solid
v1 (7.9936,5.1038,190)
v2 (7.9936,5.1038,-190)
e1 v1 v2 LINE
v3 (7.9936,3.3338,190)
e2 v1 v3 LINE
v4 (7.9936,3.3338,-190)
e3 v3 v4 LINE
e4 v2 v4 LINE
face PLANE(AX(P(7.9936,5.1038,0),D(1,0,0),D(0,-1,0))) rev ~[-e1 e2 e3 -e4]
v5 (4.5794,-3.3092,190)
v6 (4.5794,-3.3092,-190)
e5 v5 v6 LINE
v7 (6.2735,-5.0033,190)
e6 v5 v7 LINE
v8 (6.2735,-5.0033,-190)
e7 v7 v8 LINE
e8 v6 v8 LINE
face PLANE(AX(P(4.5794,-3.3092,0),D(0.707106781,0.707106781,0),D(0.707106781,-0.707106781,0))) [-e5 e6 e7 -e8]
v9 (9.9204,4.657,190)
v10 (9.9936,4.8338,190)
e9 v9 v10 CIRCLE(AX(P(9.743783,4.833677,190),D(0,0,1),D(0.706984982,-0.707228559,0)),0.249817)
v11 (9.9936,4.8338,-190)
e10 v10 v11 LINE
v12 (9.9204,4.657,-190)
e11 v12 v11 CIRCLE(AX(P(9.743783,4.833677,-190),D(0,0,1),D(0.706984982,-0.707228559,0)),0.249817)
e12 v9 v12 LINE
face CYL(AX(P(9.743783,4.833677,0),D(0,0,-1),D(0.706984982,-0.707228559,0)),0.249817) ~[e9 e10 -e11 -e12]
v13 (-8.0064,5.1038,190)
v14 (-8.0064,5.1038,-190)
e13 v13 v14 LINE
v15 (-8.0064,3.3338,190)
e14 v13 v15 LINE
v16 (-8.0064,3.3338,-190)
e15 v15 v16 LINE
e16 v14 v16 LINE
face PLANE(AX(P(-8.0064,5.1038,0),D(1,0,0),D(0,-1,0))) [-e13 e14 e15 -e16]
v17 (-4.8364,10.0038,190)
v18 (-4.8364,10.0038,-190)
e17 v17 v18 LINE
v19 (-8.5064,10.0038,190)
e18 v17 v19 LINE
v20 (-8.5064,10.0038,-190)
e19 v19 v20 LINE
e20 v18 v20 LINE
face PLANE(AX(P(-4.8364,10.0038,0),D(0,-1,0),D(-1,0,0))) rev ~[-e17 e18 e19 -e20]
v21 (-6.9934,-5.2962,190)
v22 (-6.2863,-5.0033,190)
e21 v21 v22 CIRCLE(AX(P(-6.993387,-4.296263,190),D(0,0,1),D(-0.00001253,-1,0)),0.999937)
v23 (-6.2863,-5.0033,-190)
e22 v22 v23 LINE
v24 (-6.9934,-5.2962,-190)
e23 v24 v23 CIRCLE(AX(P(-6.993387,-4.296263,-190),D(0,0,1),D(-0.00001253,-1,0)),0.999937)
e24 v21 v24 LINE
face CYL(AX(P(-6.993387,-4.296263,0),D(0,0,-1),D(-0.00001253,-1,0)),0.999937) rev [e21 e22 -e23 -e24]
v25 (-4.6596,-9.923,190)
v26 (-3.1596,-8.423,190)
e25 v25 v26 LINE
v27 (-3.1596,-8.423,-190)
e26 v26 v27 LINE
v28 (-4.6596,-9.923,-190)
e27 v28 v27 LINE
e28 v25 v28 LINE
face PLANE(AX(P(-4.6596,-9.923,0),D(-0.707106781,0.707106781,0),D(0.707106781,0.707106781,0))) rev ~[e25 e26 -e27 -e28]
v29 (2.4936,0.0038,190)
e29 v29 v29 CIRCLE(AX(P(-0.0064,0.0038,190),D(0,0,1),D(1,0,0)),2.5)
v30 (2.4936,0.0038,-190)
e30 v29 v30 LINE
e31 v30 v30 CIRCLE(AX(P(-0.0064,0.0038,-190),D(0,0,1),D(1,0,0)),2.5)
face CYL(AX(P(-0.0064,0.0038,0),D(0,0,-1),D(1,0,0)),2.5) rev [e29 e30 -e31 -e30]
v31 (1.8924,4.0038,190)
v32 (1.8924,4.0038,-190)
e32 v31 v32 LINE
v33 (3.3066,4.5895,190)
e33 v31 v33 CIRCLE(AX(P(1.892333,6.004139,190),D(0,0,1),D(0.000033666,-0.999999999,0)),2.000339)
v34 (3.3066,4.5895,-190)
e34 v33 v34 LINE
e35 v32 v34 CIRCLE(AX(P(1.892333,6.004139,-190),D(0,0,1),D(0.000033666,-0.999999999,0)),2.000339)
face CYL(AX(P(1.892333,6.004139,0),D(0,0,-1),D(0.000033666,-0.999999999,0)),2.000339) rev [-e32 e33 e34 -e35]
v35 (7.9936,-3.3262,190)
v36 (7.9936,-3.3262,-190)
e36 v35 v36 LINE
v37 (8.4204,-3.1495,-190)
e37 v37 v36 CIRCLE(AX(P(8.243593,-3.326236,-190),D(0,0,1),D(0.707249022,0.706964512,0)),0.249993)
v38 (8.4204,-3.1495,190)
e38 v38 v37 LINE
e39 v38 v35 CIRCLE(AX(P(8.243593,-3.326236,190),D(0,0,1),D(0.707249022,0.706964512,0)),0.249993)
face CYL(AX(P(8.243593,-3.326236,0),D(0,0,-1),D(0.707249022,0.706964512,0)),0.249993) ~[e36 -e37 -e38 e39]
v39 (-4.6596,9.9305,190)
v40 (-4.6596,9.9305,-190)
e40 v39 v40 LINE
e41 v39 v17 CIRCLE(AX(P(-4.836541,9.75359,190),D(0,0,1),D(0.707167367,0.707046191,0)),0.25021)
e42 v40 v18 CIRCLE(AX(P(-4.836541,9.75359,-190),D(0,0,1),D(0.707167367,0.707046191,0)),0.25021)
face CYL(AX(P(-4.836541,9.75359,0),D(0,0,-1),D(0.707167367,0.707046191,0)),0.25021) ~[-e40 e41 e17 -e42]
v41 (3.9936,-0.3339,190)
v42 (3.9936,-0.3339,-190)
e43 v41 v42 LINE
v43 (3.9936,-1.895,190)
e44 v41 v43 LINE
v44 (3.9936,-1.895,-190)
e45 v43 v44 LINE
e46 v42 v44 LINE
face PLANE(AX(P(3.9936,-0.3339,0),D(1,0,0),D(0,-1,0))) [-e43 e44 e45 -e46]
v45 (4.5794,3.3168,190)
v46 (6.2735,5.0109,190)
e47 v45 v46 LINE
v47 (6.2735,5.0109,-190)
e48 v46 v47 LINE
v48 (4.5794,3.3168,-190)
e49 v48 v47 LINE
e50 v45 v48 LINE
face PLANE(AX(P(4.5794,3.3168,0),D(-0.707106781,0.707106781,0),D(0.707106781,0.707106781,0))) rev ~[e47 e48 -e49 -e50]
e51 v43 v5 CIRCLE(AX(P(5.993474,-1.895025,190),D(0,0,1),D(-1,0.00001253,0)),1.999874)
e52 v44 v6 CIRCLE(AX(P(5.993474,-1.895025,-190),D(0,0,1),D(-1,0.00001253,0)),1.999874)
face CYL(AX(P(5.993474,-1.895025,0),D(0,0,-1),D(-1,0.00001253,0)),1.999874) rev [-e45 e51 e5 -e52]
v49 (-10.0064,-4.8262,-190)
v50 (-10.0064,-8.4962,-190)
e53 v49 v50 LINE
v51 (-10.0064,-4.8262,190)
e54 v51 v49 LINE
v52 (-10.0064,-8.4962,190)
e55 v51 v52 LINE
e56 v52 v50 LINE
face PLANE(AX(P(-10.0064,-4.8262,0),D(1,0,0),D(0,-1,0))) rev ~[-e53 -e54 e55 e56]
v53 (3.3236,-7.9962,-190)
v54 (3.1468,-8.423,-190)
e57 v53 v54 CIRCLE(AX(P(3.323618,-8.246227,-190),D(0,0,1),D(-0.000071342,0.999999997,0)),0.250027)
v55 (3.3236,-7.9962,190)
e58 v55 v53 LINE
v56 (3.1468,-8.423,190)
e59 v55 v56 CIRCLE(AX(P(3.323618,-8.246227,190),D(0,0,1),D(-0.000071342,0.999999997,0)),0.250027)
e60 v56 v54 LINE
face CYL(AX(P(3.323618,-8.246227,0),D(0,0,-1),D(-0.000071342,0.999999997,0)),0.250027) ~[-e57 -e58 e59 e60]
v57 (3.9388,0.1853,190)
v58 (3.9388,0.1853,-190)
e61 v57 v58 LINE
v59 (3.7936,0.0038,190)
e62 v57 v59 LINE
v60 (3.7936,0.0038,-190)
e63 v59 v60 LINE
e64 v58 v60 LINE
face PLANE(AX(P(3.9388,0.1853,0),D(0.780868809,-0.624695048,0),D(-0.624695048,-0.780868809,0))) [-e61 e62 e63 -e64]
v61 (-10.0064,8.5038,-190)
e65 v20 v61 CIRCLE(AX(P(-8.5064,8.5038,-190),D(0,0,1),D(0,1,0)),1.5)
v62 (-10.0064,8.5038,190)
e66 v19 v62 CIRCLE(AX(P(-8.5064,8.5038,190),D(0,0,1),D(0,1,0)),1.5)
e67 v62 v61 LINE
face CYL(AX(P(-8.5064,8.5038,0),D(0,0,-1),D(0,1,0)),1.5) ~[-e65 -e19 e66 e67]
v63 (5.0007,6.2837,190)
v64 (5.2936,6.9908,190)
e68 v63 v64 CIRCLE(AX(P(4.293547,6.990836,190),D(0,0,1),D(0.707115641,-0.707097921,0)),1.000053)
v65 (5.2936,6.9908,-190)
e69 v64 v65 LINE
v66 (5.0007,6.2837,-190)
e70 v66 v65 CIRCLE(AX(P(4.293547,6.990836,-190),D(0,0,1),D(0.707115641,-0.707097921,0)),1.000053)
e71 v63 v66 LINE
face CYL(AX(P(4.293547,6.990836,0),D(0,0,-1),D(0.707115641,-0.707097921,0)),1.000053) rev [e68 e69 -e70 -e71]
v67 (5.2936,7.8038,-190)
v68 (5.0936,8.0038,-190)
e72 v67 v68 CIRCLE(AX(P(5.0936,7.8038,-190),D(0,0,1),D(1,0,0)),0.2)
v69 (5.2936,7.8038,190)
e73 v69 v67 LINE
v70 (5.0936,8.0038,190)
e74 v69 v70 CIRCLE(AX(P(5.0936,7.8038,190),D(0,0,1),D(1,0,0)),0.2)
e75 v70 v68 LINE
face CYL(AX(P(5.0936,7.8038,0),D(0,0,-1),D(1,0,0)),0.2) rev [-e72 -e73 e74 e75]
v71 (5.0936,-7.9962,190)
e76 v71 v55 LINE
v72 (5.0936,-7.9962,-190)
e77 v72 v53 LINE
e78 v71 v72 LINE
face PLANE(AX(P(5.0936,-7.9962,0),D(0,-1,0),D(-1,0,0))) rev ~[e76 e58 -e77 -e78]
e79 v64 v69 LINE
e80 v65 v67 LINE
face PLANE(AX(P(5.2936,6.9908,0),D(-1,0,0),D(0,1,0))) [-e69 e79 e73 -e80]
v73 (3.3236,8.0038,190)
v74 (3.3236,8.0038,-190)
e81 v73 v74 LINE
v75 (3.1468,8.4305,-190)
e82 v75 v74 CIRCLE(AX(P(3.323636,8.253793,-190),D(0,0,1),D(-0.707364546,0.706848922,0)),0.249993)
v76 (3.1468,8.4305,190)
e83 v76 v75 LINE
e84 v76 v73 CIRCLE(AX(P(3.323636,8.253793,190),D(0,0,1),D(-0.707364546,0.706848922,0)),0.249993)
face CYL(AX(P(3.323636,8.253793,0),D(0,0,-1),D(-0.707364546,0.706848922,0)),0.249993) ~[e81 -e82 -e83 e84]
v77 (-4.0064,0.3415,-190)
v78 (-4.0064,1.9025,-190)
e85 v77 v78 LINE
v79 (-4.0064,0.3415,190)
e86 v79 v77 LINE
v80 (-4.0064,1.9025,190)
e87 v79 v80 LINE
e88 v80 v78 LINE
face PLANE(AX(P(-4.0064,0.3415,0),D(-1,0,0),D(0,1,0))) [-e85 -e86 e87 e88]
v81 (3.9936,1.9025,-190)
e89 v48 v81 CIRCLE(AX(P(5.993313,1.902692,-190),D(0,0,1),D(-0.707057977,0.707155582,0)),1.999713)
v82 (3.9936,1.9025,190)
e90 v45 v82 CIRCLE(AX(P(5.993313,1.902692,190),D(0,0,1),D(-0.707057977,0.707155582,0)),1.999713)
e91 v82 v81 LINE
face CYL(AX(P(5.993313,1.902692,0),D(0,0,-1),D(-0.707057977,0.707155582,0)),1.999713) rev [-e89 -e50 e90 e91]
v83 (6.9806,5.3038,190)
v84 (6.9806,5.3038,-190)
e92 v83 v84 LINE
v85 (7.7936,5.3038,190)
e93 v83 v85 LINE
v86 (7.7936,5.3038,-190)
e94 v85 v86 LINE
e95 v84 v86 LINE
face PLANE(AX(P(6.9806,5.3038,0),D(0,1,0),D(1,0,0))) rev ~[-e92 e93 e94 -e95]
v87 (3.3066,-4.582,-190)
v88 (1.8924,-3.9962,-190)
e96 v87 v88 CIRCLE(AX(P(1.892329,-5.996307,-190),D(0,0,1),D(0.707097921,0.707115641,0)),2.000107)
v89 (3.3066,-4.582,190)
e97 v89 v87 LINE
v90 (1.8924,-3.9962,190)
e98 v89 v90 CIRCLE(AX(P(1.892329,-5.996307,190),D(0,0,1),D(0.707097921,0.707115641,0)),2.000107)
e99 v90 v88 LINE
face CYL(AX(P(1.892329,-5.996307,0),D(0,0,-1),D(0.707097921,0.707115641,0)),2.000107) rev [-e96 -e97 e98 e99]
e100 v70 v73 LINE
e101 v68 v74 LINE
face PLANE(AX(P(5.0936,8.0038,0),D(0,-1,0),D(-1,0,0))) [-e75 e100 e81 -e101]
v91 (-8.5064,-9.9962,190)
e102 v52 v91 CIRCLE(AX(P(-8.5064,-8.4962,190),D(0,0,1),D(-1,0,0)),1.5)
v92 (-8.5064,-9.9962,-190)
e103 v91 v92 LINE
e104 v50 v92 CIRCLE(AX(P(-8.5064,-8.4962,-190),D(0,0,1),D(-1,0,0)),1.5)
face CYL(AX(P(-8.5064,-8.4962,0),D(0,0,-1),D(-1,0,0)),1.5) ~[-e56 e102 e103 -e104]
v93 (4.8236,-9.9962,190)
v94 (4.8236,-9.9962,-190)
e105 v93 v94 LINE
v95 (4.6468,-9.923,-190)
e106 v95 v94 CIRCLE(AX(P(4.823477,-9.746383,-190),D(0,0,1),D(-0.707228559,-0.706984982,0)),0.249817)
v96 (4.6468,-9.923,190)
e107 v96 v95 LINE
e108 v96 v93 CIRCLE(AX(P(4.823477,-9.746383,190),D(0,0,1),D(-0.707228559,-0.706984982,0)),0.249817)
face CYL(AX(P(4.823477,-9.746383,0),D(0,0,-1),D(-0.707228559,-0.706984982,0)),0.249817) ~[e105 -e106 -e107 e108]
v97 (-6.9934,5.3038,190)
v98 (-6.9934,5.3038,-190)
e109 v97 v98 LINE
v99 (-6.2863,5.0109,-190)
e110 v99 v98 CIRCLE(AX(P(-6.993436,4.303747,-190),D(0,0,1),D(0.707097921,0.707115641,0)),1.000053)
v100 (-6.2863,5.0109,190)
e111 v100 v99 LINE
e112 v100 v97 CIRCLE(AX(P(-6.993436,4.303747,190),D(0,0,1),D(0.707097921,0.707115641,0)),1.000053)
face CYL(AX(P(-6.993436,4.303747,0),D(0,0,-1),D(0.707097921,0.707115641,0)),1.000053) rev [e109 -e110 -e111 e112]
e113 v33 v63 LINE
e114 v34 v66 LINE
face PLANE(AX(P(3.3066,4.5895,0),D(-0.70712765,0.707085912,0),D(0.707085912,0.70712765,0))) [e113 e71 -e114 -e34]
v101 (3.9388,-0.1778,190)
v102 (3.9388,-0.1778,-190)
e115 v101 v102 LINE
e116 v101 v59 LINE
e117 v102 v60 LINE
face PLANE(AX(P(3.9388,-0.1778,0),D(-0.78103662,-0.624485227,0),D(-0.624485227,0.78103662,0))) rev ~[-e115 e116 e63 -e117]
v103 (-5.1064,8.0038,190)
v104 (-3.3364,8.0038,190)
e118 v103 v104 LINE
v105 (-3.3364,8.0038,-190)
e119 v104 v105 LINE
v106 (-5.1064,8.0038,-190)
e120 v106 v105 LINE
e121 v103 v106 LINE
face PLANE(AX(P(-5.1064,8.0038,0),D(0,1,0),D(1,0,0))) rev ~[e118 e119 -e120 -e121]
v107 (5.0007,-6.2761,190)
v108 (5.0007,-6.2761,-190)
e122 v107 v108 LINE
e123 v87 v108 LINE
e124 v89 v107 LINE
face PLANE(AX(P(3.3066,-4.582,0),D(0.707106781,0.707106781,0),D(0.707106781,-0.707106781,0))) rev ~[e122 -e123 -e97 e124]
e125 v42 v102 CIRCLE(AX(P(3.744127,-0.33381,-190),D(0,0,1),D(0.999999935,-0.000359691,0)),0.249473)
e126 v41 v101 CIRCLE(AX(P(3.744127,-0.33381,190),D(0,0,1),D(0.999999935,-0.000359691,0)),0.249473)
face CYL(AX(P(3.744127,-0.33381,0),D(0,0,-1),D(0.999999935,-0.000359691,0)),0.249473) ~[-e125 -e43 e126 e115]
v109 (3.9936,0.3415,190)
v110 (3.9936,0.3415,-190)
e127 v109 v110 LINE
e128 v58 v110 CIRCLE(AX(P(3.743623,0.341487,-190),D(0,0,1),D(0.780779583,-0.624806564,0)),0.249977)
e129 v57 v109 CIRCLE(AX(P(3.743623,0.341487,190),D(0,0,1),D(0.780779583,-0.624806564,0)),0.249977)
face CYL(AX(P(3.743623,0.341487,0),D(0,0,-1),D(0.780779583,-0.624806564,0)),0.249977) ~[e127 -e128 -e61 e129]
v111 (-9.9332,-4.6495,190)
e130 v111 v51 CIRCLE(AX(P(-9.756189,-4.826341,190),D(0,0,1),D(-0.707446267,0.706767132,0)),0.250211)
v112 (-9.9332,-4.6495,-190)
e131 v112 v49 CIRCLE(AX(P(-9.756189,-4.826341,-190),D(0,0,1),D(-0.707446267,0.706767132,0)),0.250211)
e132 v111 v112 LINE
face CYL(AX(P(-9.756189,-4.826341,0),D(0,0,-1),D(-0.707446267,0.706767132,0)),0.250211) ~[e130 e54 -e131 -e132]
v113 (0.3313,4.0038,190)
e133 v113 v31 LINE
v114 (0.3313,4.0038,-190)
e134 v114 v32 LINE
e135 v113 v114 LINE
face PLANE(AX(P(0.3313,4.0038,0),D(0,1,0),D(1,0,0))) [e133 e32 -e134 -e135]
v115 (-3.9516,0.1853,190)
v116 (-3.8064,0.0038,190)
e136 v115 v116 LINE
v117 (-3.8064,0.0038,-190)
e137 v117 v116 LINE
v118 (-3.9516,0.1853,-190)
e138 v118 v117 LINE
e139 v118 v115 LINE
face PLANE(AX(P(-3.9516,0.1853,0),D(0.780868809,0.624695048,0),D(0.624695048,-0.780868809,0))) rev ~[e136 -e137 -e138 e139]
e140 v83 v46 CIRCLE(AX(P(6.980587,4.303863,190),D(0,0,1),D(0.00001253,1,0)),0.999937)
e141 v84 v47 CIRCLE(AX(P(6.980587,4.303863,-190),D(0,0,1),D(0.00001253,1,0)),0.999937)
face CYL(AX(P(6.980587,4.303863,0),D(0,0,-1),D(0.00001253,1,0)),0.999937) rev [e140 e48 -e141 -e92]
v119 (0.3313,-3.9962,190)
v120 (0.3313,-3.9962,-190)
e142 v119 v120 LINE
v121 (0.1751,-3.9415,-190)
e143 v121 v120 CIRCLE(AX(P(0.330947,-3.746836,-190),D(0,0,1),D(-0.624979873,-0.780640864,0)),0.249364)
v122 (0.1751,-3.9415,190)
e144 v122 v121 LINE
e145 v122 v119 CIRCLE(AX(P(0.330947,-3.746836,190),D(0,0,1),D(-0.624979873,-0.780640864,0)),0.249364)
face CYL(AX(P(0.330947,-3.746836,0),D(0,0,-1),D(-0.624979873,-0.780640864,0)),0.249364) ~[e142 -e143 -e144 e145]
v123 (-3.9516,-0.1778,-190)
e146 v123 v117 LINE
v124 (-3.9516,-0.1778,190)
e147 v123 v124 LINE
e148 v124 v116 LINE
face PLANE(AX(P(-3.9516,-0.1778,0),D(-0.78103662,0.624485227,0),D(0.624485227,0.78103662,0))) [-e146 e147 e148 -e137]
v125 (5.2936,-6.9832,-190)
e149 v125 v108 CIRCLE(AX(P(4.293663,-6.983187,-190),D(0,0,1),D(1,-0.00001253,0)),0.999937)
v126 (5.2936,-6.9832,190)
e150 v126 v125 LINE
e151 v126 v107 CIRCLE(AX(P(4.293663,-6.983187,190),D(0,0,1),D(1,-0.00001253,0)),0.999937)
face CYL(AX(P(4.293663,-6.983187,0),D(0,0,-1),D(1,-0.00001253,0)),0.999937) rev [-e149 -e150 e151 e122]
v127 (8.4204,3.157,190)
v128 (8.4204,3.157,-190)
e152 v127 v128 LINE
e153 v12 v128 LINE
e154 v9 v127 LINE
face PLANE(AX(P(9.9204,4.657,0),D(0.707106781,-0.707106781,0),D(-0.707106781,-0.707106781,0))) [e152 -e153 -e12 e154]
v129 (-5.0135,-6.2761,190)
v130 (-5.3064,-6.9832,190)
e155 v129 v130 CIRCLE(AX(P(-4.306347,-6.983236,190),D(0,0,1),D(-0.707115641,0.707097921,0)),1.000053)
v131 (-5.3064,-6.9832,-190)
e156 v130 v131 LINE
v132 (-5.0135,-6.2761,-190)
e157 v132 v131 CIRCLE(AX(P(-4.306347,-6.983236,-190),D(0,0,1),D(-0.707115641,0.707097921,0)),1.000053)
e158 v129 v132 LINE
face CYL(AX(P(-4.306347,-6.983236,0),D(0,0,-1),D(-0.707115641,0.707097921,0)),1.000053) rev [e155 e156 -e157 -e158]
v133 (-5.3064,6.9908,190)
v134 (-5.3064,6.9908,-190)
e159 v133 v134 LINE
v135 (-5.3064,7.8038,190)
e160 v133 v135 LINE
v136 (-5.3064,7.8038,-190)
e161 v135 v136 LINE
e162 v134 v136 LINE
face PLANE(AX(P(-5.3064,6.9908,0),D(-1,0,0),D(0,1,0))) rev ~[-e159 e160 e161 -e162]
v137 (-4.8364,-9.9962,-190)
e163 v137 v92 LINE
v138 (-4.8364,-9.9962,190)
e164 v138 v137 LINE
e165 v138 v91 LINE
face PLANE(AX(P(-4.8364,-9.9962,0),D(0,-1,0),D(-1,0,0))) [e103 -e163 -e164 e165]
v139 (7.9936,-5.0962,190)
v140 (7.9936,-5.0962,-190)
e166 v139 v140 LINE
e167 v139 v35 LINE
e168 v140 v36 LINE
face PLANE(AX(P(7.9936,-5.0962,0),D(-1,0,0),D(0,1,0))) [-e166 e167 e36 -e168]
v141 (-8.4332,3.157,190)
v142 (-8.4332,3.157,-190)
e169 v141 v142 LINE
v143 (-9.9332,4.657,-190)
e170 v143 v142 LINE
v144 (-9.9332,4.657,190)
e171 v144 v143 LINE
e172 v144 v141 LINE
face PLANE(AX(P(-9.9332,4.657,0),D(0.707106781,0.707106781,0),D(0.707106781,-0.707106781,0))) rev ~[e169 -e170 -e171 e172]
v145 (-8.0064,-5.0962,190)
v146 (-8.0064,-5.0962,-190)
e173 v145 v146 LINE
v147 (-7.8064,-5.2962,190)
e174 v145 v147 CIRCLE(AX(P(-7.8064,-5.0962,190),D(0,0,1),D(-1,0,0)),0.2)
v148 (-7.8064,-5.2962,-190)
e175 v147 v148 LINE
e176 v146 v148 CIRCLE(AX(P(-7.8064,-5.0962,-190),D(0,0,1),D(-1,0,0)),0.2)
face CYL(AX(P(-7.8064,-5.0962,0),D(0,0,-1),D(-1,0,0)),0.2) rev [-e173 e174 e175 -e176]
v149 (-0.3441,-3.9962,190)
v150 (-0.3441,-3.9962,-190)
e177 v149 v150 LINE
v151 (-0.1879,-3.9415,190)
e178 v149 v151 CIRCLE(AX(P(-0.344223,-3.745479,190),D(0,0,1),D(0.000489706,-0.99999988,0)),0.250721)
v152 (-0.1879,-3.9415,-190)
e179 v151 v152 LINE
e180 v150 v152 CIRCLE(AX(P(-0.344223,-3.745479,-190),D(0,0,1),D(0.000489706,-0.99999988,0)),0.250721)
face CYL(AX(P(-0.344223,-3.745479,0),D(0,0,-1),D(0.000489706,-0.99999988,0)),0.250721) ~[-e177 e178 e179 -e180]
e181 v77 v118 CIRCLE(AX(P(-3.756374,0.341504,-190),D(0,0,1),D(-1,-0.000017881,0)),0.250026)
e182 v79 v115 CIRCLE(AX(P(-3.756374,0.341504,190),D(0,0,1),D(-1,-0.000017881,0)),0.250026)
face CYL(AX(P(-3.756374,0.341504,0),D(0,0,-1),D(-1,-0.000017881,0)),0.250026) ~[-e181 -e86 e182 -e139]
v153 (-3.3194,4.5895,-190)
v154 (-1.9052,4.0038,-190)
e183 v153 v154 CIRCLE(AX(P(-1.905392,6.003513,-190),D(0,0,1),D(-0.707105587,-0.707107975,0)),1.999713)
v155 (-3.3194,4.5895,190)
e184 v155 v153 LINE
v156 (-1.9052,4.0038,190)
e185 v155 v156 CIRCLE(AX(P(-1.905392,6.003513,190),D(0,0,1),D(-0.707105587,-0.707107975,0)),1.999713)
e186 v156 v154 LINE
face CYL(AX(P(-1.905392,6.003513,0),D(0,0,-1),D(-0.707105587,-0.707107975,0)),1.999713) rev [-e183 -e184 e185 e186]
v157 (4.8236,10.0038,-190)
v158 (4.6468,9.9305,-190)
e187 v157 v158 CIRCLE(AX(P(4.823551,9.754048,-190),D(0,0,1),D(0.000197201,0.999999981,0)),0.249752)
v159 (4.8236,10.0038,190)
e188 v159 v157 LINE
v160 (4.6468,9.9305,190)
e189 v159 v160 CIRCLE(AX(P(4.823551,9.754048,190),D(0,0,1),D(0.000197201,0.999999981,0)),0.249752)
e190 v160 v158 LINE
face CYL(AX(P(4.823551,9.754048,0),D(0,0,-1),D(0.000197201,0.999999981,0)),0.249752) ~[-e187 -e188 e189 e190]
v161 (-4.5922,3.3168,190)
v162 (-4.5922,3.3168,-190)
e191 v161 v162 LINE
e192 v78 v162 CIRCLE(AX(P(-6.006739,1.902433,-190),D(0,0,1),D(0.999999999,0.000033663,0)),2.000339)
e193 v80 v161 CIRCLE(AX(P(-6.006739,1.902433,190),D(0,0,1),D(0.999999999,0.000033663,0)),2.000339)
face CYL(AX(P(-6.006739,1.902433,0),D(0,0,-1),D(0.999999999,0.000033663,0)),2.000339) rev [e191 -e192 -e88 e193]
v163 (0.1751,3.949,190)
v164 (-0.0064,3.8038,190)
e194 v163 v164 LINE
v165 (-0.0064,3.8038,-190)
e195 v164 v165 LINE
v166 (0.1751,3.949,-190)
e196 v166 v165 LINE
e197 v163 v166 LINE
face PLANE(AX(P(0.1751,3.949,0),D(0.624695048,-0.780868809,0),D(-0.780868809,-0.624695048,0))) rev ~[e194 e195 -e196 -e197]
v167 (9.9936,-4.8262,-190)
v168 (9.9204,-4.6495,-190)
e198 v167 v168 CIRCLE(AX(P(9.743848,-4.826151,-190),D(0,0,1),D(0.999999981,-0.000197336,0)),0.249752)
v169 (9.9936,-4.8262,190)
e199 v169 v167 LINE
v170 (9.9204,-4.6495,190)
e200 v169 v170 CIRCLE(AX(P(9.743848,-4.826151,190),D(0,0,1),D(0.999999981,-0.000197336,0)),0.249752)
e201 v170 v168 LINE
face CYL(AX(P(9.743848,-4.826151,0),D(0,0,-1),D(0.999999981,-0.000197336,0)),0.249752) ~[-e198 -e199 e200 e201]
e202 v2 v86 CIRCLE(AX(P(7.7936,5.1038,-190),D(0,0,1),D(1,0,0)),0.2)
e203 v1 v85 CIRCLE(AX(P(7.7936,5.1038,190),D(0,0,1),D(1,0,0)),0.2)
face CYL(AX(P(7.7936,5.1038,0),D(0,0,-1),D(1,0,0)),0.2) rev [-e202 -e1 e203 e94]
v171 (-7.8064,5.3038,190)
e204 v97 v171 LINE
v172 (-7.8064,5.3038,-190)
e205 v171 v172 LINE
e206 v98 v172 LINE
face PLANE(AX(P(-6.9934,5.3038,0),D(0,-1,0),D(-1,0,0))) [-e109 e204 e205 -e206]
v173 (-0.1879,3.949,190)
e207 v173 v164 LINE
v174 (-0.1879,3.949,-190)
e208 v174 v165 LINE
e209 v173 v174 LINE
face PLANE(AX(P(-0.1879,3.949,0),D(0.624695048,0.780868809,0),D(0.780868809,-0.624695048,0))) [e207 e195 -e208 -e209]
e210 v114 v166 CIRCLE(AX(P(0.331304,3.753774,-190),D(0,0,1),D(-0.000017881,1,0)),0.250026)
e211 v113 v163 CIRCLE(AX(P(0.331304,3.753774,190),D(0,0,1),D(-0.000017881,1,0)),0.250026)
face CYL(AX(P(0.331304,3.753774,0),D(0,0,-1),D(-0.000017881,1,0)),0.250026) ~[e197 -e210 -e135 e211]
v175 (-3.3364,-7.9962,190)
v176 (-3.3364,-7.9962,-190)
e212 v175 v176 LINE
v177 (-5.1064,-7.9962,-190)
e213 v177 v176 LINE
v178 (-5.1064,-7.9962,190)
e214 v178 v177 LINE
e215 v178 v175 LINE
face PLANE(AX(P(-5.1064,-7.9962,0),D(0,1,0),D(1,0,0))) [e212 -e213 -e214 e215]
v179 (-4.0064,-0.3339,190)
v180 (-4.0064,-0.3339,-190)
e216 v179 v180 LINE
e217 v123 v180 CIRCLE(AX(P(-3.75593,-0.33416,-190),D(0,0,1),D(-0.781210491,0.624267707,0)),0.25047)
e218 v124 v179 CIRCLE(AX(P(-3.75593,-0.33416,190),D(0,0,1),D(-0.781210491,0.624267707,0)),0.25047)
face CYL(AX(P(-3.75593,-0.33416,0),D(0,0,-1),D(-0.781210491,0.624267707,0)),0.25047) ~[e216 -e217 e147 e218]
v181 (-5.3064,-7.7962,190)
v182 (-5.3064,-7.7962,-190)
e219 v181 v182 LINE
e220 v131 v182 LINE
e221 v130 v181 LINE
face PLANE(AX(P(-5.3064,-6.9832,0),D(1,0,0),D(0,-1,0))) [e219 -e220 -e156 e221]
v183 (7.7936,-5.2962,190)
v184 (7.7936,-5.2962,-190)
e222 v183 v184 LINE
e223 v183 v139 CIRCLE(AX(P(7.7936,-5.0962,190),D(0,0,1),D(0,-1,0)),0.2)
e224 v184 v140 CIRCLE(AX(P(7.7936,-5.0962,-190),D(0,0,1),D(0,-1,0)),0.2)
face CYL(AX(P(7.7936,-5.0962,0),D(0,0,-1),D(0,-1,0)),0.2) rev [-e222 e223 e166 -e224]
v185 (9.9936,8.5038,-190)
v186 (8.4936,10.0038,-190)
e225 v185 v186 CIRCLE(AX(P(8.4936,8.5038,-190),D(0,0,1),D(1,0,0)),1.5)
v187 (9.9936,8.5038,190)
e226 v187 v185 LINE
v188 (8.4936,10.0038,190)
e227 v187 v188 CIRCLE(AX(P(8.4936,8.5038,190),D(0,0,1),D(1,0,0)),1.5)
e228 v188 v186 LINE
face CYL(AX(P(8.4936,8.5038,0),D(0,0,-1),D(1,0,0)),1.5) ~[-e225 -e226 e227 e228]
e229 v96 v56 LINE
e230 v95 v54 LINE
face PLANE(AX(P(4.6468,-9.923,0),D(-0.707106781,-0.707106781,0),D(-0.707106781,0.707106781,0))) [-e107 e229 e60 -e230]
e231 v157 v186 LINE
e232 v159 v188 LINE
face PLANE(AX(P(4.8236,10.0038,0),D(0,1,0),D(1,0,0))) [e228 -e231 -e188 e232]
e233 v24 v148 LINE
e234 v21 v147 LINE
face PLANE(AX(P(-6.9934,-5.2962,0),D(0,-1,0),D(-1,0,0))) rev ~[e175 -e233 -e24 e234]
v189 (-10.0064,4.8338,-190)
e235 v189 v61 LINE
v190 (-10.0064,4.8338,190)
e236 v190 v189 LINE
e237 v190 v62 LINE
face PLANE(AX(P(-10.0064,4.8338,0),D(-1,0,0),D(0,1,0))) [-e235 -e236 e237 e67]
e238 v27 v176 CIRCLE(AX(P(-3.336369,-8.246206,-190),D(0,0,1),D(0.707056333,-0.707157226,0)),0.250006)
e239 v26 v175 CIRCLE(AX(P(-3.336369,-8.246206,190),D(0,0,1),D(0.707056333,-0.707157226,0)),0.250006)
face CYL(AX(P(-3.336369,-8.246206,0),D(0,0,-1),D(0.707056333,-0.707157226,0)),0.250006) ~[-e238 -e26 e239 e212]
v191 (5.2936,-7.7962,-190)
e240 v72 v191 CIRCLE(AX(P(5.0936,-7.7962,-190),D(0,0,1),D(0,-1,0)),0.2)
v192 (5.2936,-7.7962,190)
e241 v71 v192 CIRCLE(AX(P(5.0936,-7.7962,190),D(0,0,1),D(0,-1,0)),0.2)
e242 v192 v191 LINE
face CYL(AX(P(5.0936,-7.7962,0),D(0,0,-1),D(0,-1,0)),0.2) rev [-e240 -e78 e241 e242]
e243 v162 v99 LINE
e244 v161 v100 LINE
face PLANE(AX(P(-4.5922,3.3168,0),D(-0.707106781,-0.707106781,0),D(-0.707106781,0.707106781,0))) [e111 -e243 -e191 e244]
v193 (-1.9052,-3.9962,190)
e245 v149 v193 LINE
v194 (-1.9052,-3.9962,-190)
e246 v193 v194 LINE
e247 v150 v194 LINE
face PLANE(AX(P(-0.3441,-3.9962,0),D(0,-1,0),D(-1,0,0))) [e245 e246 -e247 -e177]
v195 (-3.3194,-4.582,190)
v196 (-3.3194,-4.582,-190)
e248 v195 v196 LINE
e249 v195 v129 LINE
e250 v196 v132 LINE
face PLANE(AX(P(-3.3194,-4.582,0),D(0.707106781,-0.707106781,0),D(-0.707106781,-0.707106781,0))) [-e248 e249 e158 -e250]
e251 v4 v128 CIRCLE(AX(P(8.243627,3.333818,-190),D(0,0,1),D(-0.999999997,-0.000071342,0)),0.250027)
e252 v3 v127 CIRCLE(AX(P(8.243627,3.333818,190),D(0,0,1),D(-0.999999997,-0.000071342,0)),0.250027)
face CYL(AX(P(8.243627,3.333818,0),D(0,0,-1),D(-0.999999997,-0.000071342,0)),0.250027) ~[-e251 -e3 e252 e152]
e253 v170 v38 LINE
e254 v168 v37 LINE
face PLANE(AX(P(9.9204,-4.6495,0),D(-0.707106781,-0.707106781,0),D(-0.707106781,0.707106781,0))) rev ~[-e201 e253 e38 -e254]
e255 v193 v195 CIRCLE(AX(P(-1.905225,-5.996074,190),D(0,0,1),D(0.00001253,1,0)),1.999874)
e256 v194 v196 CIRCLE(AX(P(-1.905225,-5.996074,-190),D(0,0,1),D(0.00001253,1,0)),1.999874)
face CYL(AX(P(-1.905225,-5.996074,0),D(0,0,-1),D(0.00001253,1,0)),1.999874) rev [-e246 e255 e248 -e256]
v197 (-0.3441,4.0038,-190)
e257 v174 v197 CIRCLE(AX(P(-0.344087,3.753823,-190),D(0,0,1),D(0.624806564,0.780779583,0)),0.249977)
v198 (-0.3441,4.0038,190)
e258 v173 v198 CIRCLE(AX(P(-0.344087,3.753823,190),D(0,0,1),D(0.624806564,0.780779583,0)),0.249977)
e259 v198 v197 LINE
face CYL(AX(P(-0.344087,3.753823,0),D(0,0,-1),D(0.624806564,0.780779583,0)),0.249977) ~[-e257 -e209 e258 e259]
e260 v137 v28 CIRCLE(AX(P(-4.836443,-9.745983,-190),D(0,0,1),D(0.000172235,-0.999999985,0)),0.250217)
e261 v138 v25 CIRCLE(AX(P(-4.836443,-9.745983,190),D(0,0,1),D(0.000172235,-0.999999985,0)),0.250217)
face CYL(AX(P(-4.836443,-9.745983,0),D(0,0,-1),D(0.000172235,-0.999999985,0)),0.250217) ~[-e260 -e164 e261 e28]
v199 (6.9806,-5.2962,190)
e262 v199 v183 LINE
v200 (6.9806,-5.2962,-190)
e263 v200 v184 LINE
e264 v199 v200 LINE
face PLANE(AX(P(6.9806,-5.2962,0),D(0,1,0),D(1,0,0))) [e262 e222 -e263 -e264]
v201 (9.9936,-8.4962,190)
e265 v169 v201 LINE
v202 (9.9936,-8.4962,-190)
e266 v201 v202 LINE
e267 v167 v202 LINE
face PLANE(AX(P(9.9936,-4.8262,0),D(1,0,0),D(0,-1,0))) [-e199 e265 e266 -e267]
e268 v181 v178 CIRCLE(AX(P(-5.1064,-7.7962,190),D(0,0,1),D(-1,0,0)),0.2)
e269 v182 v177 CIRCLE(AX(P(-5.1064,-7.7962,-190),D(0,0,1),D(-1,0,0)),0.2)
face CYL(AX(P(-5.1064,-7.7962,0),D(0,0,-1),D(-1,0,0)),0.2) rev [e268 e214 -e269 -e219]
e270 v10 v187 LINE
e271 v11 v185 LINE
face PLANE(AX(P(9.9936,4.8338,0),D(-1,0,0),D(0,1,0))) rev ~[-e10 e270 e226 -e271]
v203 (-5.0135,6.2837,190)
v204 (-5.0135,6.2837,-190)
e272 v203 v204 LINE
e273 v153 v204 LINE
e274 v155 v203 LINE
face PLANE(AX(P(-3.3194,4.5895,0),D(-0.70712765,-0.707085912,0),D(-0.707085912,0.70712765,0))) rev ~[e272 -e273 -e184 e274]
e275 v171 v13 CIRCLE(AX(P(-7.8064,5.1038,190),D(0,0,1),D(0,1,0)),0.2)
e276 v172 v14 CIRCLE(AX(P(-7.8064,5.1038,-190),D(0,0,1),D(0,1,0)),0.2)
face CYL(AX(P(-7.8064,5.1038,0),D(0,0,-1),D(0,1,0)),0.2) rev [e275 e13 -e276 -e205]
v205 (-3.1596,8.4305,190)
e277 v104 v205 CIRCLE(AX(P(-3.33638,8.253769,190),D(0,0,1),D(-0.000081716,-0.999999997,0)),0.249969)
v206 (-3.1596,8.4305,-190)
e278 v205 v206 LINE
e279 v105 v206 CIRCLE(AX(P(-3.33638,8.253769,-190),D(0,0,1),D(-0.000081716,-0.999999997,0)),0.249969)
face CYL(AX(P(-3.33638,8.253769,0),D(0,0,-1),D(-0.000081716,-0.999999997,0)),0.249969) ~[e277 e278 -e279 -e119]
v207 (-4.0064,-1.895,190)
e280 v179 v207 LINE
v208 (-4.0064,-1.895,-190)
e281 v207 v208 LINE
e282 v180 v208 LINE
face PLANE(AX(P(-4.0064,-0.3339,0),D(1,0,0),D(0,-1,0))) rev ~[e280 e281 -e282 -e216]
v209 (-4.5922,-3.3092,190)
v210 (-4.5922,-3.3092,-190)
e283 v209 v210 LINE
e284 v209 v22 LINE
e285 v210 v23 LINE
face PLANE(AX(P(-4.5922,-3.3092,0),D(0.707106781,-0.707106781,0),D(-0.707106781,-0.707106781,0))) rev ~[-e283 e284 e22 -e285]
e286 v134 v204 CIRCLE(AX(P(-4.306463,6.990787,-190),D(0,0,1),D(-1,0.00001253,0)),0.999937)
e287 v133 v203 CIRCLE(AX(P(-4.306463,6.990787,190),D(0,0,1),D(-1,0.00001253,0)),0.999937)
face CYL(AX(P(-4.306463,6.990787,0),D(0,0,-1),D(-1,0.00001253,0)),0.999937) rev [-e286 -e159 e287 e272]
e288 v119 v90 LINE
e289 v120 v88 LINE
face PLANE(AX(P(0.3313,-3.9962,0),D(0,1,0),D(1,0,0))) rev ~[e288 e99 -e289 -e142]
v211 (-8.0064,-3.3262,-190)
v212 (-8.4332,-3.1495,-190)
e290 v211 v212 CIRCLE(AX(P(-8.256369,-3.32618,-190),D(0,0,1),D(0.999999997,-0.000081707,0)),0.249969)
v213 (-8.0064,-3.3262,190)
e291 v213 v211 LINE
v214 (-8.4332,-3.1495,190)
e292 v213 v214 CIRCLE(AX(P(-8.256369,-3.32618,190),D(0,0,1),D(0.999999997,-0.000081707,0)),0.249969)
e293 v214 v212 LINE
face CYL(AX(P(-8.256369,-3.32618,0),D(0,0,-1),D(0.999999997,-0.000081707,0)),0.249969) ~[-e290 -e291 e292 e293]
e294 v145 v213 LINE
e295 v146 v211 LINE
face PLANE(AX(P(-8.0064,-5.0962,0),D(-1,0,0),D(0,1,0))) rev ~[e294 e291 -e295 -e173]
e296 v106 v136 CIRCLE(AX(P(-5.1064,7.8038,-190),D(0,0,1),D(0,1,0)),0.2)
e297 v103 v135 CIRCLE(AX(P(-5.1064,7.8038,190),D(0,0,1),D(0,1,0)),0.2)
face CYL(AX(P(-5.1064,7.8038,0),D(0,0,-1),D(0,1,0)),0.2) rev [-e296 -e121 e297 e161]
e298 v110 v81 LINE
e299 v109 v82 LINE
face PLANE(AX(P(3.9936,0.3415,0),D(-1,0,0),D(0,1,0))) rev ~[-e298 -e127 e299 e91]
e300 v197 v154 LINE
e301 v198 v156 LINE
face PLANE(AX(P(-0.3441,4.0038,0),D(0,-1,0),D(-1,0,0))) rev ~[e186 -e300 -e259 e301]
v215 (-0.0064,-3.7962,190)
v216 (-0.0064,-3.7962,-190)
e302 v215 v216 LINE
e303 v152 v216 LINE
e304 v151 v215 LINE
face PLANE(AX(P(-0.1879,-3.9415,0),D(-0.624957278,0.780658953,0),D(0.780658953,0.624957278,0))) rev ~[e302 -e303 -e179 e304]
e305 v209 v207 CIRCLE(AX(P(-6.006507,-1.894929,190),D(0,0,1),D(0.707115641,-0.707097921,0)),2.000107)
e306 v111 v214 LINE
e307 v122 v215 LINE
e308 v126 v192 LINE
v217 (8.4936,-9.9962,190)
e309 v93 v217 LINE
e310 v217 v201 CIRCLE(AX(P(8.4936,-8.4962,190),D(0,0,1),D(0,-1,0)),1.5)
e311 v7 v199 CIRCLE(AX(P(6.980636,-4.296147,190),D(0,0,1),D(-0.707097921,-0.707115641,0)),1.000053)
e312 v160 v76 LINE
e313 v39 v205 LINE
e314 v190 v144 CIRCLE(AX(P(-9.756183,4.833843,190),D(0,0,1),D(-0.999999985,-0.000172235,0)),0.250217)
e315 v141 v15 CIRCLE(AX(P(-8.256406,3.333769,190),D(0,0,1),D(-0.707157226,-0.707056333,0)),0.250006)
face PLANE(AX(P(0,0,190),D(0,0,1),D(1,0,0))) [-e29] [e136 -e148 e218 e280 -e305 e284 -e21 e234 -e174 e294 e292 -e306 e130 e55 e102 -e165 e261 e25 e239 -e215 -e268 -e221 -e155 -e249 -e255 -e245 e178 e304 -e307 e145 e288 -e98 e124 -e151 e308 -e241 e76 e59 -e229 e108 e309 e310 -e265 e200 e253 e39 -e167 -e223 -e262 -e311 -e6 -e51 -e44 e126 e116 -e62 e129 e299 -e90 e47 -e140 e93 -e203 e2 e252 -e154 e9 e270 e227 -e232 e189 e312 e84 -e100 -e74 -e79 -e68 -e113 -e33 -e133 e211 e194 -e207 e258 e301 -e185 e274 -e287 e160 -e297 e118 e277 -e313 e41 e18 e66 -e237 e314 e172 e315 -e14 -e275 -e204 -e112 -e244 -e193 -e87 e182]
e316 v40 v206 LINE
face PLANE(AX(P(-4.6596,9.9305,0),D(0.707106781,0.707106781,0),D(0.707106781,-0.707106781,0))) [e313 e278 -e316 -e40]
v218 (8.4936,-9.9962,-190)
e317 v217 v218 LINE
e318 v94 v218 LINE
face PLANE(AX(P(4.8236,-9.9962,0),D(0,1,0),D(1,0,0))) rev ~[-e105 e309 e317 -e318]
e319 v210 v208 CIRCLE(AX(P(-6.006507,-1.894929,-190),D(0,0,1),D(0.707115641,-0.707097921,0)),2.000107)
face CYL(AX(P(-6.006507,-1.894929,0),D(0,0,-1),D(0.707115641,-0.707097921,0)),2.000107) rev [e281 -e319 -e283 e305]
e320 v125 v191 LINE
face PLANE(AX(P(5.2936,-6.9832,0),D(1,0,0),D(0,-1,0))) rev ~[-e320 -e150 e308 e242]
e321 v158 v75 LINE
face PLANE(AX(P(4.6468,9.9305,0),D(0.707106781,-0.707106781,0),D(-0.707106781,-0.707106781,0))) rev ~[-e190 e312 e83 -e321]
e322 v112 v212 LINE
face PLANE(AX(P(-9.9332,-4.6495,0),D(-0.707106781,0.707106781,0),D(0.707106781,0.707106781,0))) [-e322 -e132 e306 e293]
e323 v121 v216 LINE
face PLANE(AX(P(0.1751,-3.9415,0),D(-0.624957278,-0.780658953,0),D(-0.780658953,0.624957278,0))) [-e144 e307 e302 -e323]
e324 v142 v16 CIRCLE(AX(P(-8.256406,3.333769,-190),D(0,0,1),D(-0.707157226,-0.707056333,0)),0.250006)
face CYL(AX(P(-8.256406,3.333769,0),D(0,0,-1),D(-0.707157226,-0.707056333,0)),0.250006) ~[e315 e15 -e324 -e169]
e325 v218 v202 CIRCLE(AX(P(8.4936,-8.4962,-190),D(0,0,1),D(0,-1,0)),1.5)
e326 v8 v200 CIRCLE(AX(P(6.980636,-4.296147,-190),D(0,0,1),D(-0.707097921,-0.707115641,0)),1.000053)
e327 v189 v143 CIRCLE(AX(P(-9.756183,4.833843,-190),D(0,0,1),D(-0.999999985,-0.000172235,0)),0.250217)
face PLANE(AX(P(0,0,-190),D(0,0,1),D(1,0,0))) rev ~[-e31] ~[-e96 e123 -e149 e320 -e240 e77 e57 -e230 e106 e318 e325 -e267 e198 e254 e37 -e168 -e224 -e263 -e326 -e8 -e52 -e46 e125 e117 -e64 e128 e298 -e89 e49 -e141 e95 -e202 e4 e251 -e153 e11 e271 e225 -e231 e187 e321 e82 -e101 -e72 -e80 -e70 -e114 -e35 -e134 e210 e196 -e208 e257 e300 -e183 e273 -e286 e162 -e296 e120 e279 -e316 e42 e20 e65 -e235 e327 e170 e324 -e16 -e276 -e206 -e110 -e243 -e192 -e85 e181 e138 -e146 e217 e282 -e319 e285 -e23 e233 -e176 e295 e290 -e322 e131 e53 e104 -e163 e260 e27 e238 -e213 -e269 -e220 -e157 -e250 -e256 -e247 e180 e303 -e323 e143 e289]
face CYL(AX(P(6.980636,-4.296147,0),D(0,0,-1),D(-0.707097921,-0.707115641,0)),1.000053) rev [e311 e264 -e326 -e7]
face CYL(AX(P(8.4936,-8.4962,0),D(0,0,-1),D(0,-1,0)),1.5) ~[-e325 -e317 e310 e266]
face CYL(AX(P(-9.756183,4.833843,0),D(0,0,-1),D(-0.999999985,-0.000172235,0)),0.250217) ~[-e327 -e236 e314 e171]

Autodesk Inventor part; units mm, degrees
ref_plane "YZ Plane" through (0, 0, 0) normal (1, 0, 0) x (0, 1, 0)
ref_plane "XZ Plane" through (0, 0, 0) normal (0, 1, 0) x (-1, 0, 0)
ref_plane "XY Plane" through (0, 0, 0) normal (0, 0, 1) x (1, 0, 0)
sketch "Эскиз1" plane through (0, 0, 0) normal (0, 0, 1) x (1, 0, 0)
  line L0 (-3.9516, 0.1853) -> (-3.8064, 0.0038)
  line L1 (-3.9516, -0.1778) -> (-3.8064, 0.0038)
  arc A0 (-3.9516, -0.1778) -> (-4.0064, -0.3339) centre (-3.7564, -0.3339) ccw
  line L2 (-4.0064, -0.3339) -> (-4.0064, -1.895)
  arc A1 (-4.5922, -3.3092) -> (-4.0064, -1.895) centre (-6.0064, -1.895) ccw
  line L3 (-4.5922, -3.3092) -> (-6.2863, -5.0033)
  arc A2 (-6.9934, -5.2962) -> (-6.2863, -5.0033) centre (-6.9934, -4.2962) ccw
  line L4 (-6.9934, -5.2962) -> (-7.8064, -5.2962)
  arc A3 (-8.0064, -5.0962) -> (-7.8064, -5.2962) centre (-7.8064, -5.0962) ccw
  line L5 (-8.0064, -5.0962) -> (-8.0064, -3.3262)
  arc A4 (-8.0064, -3.3262) -> (-8.4332, -3.1495) centre (-8.2564, -3.3262) ccw
  line L6 (-9.9332, -4.6495) -> (-8.4332, -3.1495)
  arc A5 (-9.9332, -4.6495) -> (-10.0064, -4.8262) centre (-9.7564, -4.8262) ccw
  line L7 (-10.0064, -4.8262) -> (-10.0064, -8.4962)
  arc A6 (-10.0064, -8.4962) -> (-8.5064, -9.9962) centre (-8.5064, -8.4962) ccw
  line L8 (-4.8364, -9.9962) -> (-8.5064, -9.9962)
  arc A7 (-4.8364, -9.9962) -> (-4.6596, -9.923) centre (-4.8364, -9.7462) ccw
  line L9 (-4.6596, -9.923) -> (-3.1596, -8.423)
  arc A8 (-3.1596, -8.423) -> (-3.3364, -7.9962) centre (-3.3364, -8.2462) ccw
  line L10 (-5.1064, -7.9962) -> (-3.3364, -7.9962)
  arc A9 (-5.3064, -7.7962) -> (-5.1064, -7.9962) centre (-5.1064, -7.7962) ccw
  line L11 (-5.3064, -6.9832) -> (-5.3064, -7.7962)
  arc A10 (-5.0135, -6.2761) -> (-5.3064, -6.9832) centre (-4.3064, -6.9832) ccw
  line L12 (-3.3194, -4.582) -> (-5.0135, -6.2761)
  arc A11 (-1.9052, -3.9962) -> (-3.3194, -4.582) centre (-1.9052, -5.9962) ccw
  line L13 (-0.3441, -3.9962) -> (-1.9052, -3.9962)
  arc A12 (-0.3441, -3.9962) -> (-0.1879, -3.9415) centre (-0.3441, -3.7462) ccw
  line L14 (-0.1879, -3.9415) -> (-0.0064, -3.7962)
  line L15 (0.1751, -3.9415) -> (-0.0064, -3.7962)
  arc A13 (0.1751, -3.9415) -> (0.3313, -3.9962) centre (0.3313, -3.7462) ccw
  line L16 (0.3313, -3.9962) -> (1.8924, -3.9962)
  arc A14 (3.3066, -4.582) -> (1.8924, -3.9962) centre (1.8924, -5.9962) ccw
  line L17 (3.3066, -4.582) -> (5.0007, -6.2761)
  arc A15 (5.2936, -6.9832) -> (5.0007, -6.2761) centre (4.2936, -6.9832) ccw
  line L18 (5.2936, -6.9832) -> (5.2936, -7.7962)
  arc A16 (5.0936, -7.9962) -> (5.2936, -7.7962) centre (5.0936, -7.7962) ccw
  line L19 (5.0936, -7.9962) -> (3.3236, -7.9962)
  arc A17 (3.3236, -7.9962) -> (3.1468, -8.423) centre (3.3236, -8.2462) ccw
  line L20 (4.6468, -9.923) -> (3.1468, -8.423)
  arc A18 (4.6468, -9.923) -> (4.8236, -9.9962) centre (4.8236, -9.7462) ccw
  line L21 (4.8236, -9.9962) -> (8.4936, -9.9962)
  arc A19 (8.4936, -9.9962) -> (9.9936, -8.4962) centre (8.4936, -8.4962) ccw
  line L22 (9.9936, -4.8262) -> (9.9936, -8.4962)
  arc A20 (9.9936, -4.8262) -> (9.9204, -4.6495) centre (9.7436, -4.8262) ccw
  line L23 (9.9204, -4.6495) -> (8.4204, -3.1495)
  arc A21 (8.4204, -3.1495) -> (7.9936, -3.3262) centre (8.2436, -3.3262) ccw
  line L24 (7.9936, -5.0962) -> (7.9936, -3.3262)
  arc A22 (7.7936, -5.2962) -> (7.9936, -5.0962) centre (7.7936, -5.0962) ccw
  line L25 (6.9806, -5.2962) -> (7.7936, -5.2962)
  arc A23 (6.2735, -5.0033) -> (6.9806, -5.2962) centre (6.9806, -4.2962) ccw
  line L26 (4.5794, -3.3092) -> (6.2735, -5.0033)
  arc A24 (3.9936, -1.895) -> (4.5794, -3.3092) centre (5.9936, -1.895) ccw
  line L27 (3.9936, -0.3339) -> (3.9936, -1.895)
  arc A25 (3.9936, -0.3339) -> (3.9388, -0.1778) centre (3.7436, -0.3339) ccw
  line L28 (3.9388, -0.1778) -> (3.7936, 0.0038)
  line L29 (3.9388, 0.1853) -> (3.7936, 0.0038)
  arc A26 (3.9388, 0.1853) -> (3.9936, 0.3415) centre (3.7436, 0.3415) ccw
  line L30 (3.9936, 0.3415) -> (3.9936, 1.9025)
  arc A27 (4.5794, 3.3168) -> (3.9936, 1.9025) centre (5.9936, 1.9025) ccw
  line L31 (4.5794, 3.3168) -> (6.2735, 5.0109)
  arc A28 (6.9806, 5.3038) -> (6.2735, 5.0109) centre (6.9806, 4.3038) ccw
  line L32 (6.9806, 5.3038) -> (7.7936, 5.3038)
  arc A29 (7.9936, 5.1038) -> (7.7936, 5.3038) centre (7.7936, 5.1038) ccw
  line L33 (7.9936, 5.1038) -> (7.9936, 3.3338)
  arc A30 (7.9936, 3.3338) -> (8.4204, 3.157) centre (8.2436, 3.3338) ccw
  line L34 (9.9204, 4.657) -> (8.4204, 3.157)
  arc A31 (9.9204, 4.657) -> (9.9936, 4.8338) centre (9.7436, 4.8338) ccw
  line L35 (9.9936, 4.8338) -> (9.9936, 8.5038)
  arc A32 (9.9936, 8.5038) -> (8.4936, 10.0038) centre (8.4936, 8.5038) ccw
  line L36 (4.8236, 10.0038) -> (8.4936, 10.0038)
  arc A33 (4.8236, 10.0038) -> (4.6468, 9.9305) centre (4.8236, 9.7538) ccw
  line L37 (4.6468, 9.9305) -> (3.1468, 8.4305)
  arc A34 (3.1468, 8.4305) -> (3.3236, 8.0038) centre (3.3236, 8.2538) ccw
  line L38 (5.0936, 8.0038) -> (3.3236, 8.0038)
  arc A35 (5.2936, 7.8038) -> (5.0936, 8.0038) centre (5.0936, 7.8038) ccw
  line L39 (5.2936, 6.9908) -> (5.2936, 7.8038)
  arc A36 (5.0007, 6.2837) -> (5.2936, 6.9908) centre (4.2936, 6.9908) ccw
  line L40 (3.3066, 4.5895) -> (5.0007, 6.2837)
  arc A37 (1.8924, 4.0038) -> (3.3066, 4.5895) centre (1.8924, 6.0038) ccw
  line L41 (0.3313, 4.0038) -> (1.8924, 4.0038)
  arc A38 (0.3313, 4.0038) -> (0.1751, 3.949) centre (0.3313, 3.7538) ccw
  line L42 (0.1751, 3.949) -> (-0.0064, 3.8038)
  line L43 (-0.1879, 3.949) -> (-0.0064, 3.8038)
  arc A39 (-0.1879, 3.949) -> (-0.3441, 4.0038) centre (-0.3441, 3.7538) ccw
  line L44 (-0.3441, 4.0038) -> (-1.9052, 4.0038)
  arc A40 (-3.3194, 4.5895) -> (-1.9052, 4.0038) centre (-1.9052, 6.0038) ccw
  line L45 (-3.3194, 4.5895) -> (-5.0135, 6.2837)
  arc A41 (-5.3064, 6.9908) -> (-5.0135, 6.2837) centre (-4.3064, 6.9908) ccw
  line L46 (-5.3064, 6.9908) -> (-5.3064, 7.8038)
  arc A42 (-5.1064, 8.0038) -> (-5.3064, 7.8038) centre (-5.1064, 7.8038) ccw
  line L47 (-5.1064, 8.0038) -> (-3.3364, 8.0038)
  arc A43 (-3.3364, 8.0038) -> (-3.1596, 8.4305) centre (-3.3364, 8.2538) ccw
  line L48 (-4.6596, 9.9305) -> (-3.1596, 8.4305)
  arc A44 (-4.6596, 9.9305) -> (-4.8364, 10.0038) centre (-4.8364, 9.7538) ccw
  line L49 (-4.8364, 10.0038) -> (-8.5064, 10.0038)
  arc A45 (-8.5064, 10.0038) -> (-10.0064, 8.5038) centre (-8.5064, 8.5038) ccw
  line L50 (-10.0064, 4.8338) -> (-10.0064, 8.5038)
  arc A46 (-10.0064, 4.8338) -> (-9.9332, 4.657) centre (-9.7564, 4.8338) ccw
  line L51 (-9.9332, 4.657) -> (-8.4332, 3.157)
  arc A47 (-8.4332, 3.157) -> (-8.0064, 3.3338) centre (-8.2564, 3.3338) ccw
  line L52 (-8.0064, 5.1038) -> (-8.0064, 3.3338)
  arc A48 (-7.8064, 5.3038) -> (-8.0064, 5.1038) centre (-7.8064, 5.1038) ccw
  line L53 (-6.9934, 5.3038) -> (-7.8064, 5.3038)
  arc A49 (-6.2863, 5.0109) -> (-6.9934, 5.3038) centre (-6.9934, 4.3038) ccw
  line L54 (-4.5922, 3.3168) -> (-6.2863, 5.0109)
  arc A50 (-4.0064, 1.9025) -> (-4.5922, 3.3168) centre (-6.0064, 1.9025) ccw
  line L55 (-4.0064, 0.3415) -> (-4.0064, 1.9025)
  arc A51 (-4.0064, 0.3415) -> (-3.9516, 0.1853) centre (-3.7564, 0.3415) ccw
  circle A52 centre (-0.0064, 0.0038) radius 2.5
  point P0 (0, 0)
  point P1 (-0.0064, 0.0038)
  dimension "d0" = 0.25
  dimension "d1" = 1.5
  dimension "d2" = 0.2
  dimension "d3" = 1
  dimension "d4" = 2
  dimension "d5" = 5
  dimension "d6" = 135
  dimension "d7" = 38.66
  dimension "d8" = 38.66
  dimension "d9" = 45
  dimension "d10" = 2
  dimension "d11" = 4.7
  dimension "d12" = 14
  dimension "d13" = 15.3
  dimension "d14" = 20
  dimension "d15" = 2.829
  dimension "d16" = 4.629
  dimension "d17" = 7.4579
  dimension "d18" = 2.829
  dimension "d19" = 4.629
  dimension "d20" = 7.4579
  dimension "d21" = 10.6
  dimension "d22" = 4.7
  dimension "d23" = 15.3
  dimension "d24" = 2.7
  dimension "d25" = 13.3
  dimension "d26" = 5.9346
  dimension "d27" = 5.9346
  dimension "d28" = 5.9346
  dimension "d29" = 5.9346
  dimension "d30" = 9.9936
  dimension "d31" = 3.7218
  dimension "d32" = 3.7271
  dimension "d33" = 5.3038
  dimension "d34" = 2.96
  dimension "d35" = 2.9647
  dimension "d36" = 2.9742
  dimension "d37" = 2.9684
  dimension "d38" = 8.0064
  dimension "d39" = 10
  dimension "d40" = 3.729
  dimension "d41" = 10
  dimension "d42" = 3.729
extrude "Выдавливание1" add sketch "Эскиз1" along normal mid plane 380
properties part number "AP20x20x500"
